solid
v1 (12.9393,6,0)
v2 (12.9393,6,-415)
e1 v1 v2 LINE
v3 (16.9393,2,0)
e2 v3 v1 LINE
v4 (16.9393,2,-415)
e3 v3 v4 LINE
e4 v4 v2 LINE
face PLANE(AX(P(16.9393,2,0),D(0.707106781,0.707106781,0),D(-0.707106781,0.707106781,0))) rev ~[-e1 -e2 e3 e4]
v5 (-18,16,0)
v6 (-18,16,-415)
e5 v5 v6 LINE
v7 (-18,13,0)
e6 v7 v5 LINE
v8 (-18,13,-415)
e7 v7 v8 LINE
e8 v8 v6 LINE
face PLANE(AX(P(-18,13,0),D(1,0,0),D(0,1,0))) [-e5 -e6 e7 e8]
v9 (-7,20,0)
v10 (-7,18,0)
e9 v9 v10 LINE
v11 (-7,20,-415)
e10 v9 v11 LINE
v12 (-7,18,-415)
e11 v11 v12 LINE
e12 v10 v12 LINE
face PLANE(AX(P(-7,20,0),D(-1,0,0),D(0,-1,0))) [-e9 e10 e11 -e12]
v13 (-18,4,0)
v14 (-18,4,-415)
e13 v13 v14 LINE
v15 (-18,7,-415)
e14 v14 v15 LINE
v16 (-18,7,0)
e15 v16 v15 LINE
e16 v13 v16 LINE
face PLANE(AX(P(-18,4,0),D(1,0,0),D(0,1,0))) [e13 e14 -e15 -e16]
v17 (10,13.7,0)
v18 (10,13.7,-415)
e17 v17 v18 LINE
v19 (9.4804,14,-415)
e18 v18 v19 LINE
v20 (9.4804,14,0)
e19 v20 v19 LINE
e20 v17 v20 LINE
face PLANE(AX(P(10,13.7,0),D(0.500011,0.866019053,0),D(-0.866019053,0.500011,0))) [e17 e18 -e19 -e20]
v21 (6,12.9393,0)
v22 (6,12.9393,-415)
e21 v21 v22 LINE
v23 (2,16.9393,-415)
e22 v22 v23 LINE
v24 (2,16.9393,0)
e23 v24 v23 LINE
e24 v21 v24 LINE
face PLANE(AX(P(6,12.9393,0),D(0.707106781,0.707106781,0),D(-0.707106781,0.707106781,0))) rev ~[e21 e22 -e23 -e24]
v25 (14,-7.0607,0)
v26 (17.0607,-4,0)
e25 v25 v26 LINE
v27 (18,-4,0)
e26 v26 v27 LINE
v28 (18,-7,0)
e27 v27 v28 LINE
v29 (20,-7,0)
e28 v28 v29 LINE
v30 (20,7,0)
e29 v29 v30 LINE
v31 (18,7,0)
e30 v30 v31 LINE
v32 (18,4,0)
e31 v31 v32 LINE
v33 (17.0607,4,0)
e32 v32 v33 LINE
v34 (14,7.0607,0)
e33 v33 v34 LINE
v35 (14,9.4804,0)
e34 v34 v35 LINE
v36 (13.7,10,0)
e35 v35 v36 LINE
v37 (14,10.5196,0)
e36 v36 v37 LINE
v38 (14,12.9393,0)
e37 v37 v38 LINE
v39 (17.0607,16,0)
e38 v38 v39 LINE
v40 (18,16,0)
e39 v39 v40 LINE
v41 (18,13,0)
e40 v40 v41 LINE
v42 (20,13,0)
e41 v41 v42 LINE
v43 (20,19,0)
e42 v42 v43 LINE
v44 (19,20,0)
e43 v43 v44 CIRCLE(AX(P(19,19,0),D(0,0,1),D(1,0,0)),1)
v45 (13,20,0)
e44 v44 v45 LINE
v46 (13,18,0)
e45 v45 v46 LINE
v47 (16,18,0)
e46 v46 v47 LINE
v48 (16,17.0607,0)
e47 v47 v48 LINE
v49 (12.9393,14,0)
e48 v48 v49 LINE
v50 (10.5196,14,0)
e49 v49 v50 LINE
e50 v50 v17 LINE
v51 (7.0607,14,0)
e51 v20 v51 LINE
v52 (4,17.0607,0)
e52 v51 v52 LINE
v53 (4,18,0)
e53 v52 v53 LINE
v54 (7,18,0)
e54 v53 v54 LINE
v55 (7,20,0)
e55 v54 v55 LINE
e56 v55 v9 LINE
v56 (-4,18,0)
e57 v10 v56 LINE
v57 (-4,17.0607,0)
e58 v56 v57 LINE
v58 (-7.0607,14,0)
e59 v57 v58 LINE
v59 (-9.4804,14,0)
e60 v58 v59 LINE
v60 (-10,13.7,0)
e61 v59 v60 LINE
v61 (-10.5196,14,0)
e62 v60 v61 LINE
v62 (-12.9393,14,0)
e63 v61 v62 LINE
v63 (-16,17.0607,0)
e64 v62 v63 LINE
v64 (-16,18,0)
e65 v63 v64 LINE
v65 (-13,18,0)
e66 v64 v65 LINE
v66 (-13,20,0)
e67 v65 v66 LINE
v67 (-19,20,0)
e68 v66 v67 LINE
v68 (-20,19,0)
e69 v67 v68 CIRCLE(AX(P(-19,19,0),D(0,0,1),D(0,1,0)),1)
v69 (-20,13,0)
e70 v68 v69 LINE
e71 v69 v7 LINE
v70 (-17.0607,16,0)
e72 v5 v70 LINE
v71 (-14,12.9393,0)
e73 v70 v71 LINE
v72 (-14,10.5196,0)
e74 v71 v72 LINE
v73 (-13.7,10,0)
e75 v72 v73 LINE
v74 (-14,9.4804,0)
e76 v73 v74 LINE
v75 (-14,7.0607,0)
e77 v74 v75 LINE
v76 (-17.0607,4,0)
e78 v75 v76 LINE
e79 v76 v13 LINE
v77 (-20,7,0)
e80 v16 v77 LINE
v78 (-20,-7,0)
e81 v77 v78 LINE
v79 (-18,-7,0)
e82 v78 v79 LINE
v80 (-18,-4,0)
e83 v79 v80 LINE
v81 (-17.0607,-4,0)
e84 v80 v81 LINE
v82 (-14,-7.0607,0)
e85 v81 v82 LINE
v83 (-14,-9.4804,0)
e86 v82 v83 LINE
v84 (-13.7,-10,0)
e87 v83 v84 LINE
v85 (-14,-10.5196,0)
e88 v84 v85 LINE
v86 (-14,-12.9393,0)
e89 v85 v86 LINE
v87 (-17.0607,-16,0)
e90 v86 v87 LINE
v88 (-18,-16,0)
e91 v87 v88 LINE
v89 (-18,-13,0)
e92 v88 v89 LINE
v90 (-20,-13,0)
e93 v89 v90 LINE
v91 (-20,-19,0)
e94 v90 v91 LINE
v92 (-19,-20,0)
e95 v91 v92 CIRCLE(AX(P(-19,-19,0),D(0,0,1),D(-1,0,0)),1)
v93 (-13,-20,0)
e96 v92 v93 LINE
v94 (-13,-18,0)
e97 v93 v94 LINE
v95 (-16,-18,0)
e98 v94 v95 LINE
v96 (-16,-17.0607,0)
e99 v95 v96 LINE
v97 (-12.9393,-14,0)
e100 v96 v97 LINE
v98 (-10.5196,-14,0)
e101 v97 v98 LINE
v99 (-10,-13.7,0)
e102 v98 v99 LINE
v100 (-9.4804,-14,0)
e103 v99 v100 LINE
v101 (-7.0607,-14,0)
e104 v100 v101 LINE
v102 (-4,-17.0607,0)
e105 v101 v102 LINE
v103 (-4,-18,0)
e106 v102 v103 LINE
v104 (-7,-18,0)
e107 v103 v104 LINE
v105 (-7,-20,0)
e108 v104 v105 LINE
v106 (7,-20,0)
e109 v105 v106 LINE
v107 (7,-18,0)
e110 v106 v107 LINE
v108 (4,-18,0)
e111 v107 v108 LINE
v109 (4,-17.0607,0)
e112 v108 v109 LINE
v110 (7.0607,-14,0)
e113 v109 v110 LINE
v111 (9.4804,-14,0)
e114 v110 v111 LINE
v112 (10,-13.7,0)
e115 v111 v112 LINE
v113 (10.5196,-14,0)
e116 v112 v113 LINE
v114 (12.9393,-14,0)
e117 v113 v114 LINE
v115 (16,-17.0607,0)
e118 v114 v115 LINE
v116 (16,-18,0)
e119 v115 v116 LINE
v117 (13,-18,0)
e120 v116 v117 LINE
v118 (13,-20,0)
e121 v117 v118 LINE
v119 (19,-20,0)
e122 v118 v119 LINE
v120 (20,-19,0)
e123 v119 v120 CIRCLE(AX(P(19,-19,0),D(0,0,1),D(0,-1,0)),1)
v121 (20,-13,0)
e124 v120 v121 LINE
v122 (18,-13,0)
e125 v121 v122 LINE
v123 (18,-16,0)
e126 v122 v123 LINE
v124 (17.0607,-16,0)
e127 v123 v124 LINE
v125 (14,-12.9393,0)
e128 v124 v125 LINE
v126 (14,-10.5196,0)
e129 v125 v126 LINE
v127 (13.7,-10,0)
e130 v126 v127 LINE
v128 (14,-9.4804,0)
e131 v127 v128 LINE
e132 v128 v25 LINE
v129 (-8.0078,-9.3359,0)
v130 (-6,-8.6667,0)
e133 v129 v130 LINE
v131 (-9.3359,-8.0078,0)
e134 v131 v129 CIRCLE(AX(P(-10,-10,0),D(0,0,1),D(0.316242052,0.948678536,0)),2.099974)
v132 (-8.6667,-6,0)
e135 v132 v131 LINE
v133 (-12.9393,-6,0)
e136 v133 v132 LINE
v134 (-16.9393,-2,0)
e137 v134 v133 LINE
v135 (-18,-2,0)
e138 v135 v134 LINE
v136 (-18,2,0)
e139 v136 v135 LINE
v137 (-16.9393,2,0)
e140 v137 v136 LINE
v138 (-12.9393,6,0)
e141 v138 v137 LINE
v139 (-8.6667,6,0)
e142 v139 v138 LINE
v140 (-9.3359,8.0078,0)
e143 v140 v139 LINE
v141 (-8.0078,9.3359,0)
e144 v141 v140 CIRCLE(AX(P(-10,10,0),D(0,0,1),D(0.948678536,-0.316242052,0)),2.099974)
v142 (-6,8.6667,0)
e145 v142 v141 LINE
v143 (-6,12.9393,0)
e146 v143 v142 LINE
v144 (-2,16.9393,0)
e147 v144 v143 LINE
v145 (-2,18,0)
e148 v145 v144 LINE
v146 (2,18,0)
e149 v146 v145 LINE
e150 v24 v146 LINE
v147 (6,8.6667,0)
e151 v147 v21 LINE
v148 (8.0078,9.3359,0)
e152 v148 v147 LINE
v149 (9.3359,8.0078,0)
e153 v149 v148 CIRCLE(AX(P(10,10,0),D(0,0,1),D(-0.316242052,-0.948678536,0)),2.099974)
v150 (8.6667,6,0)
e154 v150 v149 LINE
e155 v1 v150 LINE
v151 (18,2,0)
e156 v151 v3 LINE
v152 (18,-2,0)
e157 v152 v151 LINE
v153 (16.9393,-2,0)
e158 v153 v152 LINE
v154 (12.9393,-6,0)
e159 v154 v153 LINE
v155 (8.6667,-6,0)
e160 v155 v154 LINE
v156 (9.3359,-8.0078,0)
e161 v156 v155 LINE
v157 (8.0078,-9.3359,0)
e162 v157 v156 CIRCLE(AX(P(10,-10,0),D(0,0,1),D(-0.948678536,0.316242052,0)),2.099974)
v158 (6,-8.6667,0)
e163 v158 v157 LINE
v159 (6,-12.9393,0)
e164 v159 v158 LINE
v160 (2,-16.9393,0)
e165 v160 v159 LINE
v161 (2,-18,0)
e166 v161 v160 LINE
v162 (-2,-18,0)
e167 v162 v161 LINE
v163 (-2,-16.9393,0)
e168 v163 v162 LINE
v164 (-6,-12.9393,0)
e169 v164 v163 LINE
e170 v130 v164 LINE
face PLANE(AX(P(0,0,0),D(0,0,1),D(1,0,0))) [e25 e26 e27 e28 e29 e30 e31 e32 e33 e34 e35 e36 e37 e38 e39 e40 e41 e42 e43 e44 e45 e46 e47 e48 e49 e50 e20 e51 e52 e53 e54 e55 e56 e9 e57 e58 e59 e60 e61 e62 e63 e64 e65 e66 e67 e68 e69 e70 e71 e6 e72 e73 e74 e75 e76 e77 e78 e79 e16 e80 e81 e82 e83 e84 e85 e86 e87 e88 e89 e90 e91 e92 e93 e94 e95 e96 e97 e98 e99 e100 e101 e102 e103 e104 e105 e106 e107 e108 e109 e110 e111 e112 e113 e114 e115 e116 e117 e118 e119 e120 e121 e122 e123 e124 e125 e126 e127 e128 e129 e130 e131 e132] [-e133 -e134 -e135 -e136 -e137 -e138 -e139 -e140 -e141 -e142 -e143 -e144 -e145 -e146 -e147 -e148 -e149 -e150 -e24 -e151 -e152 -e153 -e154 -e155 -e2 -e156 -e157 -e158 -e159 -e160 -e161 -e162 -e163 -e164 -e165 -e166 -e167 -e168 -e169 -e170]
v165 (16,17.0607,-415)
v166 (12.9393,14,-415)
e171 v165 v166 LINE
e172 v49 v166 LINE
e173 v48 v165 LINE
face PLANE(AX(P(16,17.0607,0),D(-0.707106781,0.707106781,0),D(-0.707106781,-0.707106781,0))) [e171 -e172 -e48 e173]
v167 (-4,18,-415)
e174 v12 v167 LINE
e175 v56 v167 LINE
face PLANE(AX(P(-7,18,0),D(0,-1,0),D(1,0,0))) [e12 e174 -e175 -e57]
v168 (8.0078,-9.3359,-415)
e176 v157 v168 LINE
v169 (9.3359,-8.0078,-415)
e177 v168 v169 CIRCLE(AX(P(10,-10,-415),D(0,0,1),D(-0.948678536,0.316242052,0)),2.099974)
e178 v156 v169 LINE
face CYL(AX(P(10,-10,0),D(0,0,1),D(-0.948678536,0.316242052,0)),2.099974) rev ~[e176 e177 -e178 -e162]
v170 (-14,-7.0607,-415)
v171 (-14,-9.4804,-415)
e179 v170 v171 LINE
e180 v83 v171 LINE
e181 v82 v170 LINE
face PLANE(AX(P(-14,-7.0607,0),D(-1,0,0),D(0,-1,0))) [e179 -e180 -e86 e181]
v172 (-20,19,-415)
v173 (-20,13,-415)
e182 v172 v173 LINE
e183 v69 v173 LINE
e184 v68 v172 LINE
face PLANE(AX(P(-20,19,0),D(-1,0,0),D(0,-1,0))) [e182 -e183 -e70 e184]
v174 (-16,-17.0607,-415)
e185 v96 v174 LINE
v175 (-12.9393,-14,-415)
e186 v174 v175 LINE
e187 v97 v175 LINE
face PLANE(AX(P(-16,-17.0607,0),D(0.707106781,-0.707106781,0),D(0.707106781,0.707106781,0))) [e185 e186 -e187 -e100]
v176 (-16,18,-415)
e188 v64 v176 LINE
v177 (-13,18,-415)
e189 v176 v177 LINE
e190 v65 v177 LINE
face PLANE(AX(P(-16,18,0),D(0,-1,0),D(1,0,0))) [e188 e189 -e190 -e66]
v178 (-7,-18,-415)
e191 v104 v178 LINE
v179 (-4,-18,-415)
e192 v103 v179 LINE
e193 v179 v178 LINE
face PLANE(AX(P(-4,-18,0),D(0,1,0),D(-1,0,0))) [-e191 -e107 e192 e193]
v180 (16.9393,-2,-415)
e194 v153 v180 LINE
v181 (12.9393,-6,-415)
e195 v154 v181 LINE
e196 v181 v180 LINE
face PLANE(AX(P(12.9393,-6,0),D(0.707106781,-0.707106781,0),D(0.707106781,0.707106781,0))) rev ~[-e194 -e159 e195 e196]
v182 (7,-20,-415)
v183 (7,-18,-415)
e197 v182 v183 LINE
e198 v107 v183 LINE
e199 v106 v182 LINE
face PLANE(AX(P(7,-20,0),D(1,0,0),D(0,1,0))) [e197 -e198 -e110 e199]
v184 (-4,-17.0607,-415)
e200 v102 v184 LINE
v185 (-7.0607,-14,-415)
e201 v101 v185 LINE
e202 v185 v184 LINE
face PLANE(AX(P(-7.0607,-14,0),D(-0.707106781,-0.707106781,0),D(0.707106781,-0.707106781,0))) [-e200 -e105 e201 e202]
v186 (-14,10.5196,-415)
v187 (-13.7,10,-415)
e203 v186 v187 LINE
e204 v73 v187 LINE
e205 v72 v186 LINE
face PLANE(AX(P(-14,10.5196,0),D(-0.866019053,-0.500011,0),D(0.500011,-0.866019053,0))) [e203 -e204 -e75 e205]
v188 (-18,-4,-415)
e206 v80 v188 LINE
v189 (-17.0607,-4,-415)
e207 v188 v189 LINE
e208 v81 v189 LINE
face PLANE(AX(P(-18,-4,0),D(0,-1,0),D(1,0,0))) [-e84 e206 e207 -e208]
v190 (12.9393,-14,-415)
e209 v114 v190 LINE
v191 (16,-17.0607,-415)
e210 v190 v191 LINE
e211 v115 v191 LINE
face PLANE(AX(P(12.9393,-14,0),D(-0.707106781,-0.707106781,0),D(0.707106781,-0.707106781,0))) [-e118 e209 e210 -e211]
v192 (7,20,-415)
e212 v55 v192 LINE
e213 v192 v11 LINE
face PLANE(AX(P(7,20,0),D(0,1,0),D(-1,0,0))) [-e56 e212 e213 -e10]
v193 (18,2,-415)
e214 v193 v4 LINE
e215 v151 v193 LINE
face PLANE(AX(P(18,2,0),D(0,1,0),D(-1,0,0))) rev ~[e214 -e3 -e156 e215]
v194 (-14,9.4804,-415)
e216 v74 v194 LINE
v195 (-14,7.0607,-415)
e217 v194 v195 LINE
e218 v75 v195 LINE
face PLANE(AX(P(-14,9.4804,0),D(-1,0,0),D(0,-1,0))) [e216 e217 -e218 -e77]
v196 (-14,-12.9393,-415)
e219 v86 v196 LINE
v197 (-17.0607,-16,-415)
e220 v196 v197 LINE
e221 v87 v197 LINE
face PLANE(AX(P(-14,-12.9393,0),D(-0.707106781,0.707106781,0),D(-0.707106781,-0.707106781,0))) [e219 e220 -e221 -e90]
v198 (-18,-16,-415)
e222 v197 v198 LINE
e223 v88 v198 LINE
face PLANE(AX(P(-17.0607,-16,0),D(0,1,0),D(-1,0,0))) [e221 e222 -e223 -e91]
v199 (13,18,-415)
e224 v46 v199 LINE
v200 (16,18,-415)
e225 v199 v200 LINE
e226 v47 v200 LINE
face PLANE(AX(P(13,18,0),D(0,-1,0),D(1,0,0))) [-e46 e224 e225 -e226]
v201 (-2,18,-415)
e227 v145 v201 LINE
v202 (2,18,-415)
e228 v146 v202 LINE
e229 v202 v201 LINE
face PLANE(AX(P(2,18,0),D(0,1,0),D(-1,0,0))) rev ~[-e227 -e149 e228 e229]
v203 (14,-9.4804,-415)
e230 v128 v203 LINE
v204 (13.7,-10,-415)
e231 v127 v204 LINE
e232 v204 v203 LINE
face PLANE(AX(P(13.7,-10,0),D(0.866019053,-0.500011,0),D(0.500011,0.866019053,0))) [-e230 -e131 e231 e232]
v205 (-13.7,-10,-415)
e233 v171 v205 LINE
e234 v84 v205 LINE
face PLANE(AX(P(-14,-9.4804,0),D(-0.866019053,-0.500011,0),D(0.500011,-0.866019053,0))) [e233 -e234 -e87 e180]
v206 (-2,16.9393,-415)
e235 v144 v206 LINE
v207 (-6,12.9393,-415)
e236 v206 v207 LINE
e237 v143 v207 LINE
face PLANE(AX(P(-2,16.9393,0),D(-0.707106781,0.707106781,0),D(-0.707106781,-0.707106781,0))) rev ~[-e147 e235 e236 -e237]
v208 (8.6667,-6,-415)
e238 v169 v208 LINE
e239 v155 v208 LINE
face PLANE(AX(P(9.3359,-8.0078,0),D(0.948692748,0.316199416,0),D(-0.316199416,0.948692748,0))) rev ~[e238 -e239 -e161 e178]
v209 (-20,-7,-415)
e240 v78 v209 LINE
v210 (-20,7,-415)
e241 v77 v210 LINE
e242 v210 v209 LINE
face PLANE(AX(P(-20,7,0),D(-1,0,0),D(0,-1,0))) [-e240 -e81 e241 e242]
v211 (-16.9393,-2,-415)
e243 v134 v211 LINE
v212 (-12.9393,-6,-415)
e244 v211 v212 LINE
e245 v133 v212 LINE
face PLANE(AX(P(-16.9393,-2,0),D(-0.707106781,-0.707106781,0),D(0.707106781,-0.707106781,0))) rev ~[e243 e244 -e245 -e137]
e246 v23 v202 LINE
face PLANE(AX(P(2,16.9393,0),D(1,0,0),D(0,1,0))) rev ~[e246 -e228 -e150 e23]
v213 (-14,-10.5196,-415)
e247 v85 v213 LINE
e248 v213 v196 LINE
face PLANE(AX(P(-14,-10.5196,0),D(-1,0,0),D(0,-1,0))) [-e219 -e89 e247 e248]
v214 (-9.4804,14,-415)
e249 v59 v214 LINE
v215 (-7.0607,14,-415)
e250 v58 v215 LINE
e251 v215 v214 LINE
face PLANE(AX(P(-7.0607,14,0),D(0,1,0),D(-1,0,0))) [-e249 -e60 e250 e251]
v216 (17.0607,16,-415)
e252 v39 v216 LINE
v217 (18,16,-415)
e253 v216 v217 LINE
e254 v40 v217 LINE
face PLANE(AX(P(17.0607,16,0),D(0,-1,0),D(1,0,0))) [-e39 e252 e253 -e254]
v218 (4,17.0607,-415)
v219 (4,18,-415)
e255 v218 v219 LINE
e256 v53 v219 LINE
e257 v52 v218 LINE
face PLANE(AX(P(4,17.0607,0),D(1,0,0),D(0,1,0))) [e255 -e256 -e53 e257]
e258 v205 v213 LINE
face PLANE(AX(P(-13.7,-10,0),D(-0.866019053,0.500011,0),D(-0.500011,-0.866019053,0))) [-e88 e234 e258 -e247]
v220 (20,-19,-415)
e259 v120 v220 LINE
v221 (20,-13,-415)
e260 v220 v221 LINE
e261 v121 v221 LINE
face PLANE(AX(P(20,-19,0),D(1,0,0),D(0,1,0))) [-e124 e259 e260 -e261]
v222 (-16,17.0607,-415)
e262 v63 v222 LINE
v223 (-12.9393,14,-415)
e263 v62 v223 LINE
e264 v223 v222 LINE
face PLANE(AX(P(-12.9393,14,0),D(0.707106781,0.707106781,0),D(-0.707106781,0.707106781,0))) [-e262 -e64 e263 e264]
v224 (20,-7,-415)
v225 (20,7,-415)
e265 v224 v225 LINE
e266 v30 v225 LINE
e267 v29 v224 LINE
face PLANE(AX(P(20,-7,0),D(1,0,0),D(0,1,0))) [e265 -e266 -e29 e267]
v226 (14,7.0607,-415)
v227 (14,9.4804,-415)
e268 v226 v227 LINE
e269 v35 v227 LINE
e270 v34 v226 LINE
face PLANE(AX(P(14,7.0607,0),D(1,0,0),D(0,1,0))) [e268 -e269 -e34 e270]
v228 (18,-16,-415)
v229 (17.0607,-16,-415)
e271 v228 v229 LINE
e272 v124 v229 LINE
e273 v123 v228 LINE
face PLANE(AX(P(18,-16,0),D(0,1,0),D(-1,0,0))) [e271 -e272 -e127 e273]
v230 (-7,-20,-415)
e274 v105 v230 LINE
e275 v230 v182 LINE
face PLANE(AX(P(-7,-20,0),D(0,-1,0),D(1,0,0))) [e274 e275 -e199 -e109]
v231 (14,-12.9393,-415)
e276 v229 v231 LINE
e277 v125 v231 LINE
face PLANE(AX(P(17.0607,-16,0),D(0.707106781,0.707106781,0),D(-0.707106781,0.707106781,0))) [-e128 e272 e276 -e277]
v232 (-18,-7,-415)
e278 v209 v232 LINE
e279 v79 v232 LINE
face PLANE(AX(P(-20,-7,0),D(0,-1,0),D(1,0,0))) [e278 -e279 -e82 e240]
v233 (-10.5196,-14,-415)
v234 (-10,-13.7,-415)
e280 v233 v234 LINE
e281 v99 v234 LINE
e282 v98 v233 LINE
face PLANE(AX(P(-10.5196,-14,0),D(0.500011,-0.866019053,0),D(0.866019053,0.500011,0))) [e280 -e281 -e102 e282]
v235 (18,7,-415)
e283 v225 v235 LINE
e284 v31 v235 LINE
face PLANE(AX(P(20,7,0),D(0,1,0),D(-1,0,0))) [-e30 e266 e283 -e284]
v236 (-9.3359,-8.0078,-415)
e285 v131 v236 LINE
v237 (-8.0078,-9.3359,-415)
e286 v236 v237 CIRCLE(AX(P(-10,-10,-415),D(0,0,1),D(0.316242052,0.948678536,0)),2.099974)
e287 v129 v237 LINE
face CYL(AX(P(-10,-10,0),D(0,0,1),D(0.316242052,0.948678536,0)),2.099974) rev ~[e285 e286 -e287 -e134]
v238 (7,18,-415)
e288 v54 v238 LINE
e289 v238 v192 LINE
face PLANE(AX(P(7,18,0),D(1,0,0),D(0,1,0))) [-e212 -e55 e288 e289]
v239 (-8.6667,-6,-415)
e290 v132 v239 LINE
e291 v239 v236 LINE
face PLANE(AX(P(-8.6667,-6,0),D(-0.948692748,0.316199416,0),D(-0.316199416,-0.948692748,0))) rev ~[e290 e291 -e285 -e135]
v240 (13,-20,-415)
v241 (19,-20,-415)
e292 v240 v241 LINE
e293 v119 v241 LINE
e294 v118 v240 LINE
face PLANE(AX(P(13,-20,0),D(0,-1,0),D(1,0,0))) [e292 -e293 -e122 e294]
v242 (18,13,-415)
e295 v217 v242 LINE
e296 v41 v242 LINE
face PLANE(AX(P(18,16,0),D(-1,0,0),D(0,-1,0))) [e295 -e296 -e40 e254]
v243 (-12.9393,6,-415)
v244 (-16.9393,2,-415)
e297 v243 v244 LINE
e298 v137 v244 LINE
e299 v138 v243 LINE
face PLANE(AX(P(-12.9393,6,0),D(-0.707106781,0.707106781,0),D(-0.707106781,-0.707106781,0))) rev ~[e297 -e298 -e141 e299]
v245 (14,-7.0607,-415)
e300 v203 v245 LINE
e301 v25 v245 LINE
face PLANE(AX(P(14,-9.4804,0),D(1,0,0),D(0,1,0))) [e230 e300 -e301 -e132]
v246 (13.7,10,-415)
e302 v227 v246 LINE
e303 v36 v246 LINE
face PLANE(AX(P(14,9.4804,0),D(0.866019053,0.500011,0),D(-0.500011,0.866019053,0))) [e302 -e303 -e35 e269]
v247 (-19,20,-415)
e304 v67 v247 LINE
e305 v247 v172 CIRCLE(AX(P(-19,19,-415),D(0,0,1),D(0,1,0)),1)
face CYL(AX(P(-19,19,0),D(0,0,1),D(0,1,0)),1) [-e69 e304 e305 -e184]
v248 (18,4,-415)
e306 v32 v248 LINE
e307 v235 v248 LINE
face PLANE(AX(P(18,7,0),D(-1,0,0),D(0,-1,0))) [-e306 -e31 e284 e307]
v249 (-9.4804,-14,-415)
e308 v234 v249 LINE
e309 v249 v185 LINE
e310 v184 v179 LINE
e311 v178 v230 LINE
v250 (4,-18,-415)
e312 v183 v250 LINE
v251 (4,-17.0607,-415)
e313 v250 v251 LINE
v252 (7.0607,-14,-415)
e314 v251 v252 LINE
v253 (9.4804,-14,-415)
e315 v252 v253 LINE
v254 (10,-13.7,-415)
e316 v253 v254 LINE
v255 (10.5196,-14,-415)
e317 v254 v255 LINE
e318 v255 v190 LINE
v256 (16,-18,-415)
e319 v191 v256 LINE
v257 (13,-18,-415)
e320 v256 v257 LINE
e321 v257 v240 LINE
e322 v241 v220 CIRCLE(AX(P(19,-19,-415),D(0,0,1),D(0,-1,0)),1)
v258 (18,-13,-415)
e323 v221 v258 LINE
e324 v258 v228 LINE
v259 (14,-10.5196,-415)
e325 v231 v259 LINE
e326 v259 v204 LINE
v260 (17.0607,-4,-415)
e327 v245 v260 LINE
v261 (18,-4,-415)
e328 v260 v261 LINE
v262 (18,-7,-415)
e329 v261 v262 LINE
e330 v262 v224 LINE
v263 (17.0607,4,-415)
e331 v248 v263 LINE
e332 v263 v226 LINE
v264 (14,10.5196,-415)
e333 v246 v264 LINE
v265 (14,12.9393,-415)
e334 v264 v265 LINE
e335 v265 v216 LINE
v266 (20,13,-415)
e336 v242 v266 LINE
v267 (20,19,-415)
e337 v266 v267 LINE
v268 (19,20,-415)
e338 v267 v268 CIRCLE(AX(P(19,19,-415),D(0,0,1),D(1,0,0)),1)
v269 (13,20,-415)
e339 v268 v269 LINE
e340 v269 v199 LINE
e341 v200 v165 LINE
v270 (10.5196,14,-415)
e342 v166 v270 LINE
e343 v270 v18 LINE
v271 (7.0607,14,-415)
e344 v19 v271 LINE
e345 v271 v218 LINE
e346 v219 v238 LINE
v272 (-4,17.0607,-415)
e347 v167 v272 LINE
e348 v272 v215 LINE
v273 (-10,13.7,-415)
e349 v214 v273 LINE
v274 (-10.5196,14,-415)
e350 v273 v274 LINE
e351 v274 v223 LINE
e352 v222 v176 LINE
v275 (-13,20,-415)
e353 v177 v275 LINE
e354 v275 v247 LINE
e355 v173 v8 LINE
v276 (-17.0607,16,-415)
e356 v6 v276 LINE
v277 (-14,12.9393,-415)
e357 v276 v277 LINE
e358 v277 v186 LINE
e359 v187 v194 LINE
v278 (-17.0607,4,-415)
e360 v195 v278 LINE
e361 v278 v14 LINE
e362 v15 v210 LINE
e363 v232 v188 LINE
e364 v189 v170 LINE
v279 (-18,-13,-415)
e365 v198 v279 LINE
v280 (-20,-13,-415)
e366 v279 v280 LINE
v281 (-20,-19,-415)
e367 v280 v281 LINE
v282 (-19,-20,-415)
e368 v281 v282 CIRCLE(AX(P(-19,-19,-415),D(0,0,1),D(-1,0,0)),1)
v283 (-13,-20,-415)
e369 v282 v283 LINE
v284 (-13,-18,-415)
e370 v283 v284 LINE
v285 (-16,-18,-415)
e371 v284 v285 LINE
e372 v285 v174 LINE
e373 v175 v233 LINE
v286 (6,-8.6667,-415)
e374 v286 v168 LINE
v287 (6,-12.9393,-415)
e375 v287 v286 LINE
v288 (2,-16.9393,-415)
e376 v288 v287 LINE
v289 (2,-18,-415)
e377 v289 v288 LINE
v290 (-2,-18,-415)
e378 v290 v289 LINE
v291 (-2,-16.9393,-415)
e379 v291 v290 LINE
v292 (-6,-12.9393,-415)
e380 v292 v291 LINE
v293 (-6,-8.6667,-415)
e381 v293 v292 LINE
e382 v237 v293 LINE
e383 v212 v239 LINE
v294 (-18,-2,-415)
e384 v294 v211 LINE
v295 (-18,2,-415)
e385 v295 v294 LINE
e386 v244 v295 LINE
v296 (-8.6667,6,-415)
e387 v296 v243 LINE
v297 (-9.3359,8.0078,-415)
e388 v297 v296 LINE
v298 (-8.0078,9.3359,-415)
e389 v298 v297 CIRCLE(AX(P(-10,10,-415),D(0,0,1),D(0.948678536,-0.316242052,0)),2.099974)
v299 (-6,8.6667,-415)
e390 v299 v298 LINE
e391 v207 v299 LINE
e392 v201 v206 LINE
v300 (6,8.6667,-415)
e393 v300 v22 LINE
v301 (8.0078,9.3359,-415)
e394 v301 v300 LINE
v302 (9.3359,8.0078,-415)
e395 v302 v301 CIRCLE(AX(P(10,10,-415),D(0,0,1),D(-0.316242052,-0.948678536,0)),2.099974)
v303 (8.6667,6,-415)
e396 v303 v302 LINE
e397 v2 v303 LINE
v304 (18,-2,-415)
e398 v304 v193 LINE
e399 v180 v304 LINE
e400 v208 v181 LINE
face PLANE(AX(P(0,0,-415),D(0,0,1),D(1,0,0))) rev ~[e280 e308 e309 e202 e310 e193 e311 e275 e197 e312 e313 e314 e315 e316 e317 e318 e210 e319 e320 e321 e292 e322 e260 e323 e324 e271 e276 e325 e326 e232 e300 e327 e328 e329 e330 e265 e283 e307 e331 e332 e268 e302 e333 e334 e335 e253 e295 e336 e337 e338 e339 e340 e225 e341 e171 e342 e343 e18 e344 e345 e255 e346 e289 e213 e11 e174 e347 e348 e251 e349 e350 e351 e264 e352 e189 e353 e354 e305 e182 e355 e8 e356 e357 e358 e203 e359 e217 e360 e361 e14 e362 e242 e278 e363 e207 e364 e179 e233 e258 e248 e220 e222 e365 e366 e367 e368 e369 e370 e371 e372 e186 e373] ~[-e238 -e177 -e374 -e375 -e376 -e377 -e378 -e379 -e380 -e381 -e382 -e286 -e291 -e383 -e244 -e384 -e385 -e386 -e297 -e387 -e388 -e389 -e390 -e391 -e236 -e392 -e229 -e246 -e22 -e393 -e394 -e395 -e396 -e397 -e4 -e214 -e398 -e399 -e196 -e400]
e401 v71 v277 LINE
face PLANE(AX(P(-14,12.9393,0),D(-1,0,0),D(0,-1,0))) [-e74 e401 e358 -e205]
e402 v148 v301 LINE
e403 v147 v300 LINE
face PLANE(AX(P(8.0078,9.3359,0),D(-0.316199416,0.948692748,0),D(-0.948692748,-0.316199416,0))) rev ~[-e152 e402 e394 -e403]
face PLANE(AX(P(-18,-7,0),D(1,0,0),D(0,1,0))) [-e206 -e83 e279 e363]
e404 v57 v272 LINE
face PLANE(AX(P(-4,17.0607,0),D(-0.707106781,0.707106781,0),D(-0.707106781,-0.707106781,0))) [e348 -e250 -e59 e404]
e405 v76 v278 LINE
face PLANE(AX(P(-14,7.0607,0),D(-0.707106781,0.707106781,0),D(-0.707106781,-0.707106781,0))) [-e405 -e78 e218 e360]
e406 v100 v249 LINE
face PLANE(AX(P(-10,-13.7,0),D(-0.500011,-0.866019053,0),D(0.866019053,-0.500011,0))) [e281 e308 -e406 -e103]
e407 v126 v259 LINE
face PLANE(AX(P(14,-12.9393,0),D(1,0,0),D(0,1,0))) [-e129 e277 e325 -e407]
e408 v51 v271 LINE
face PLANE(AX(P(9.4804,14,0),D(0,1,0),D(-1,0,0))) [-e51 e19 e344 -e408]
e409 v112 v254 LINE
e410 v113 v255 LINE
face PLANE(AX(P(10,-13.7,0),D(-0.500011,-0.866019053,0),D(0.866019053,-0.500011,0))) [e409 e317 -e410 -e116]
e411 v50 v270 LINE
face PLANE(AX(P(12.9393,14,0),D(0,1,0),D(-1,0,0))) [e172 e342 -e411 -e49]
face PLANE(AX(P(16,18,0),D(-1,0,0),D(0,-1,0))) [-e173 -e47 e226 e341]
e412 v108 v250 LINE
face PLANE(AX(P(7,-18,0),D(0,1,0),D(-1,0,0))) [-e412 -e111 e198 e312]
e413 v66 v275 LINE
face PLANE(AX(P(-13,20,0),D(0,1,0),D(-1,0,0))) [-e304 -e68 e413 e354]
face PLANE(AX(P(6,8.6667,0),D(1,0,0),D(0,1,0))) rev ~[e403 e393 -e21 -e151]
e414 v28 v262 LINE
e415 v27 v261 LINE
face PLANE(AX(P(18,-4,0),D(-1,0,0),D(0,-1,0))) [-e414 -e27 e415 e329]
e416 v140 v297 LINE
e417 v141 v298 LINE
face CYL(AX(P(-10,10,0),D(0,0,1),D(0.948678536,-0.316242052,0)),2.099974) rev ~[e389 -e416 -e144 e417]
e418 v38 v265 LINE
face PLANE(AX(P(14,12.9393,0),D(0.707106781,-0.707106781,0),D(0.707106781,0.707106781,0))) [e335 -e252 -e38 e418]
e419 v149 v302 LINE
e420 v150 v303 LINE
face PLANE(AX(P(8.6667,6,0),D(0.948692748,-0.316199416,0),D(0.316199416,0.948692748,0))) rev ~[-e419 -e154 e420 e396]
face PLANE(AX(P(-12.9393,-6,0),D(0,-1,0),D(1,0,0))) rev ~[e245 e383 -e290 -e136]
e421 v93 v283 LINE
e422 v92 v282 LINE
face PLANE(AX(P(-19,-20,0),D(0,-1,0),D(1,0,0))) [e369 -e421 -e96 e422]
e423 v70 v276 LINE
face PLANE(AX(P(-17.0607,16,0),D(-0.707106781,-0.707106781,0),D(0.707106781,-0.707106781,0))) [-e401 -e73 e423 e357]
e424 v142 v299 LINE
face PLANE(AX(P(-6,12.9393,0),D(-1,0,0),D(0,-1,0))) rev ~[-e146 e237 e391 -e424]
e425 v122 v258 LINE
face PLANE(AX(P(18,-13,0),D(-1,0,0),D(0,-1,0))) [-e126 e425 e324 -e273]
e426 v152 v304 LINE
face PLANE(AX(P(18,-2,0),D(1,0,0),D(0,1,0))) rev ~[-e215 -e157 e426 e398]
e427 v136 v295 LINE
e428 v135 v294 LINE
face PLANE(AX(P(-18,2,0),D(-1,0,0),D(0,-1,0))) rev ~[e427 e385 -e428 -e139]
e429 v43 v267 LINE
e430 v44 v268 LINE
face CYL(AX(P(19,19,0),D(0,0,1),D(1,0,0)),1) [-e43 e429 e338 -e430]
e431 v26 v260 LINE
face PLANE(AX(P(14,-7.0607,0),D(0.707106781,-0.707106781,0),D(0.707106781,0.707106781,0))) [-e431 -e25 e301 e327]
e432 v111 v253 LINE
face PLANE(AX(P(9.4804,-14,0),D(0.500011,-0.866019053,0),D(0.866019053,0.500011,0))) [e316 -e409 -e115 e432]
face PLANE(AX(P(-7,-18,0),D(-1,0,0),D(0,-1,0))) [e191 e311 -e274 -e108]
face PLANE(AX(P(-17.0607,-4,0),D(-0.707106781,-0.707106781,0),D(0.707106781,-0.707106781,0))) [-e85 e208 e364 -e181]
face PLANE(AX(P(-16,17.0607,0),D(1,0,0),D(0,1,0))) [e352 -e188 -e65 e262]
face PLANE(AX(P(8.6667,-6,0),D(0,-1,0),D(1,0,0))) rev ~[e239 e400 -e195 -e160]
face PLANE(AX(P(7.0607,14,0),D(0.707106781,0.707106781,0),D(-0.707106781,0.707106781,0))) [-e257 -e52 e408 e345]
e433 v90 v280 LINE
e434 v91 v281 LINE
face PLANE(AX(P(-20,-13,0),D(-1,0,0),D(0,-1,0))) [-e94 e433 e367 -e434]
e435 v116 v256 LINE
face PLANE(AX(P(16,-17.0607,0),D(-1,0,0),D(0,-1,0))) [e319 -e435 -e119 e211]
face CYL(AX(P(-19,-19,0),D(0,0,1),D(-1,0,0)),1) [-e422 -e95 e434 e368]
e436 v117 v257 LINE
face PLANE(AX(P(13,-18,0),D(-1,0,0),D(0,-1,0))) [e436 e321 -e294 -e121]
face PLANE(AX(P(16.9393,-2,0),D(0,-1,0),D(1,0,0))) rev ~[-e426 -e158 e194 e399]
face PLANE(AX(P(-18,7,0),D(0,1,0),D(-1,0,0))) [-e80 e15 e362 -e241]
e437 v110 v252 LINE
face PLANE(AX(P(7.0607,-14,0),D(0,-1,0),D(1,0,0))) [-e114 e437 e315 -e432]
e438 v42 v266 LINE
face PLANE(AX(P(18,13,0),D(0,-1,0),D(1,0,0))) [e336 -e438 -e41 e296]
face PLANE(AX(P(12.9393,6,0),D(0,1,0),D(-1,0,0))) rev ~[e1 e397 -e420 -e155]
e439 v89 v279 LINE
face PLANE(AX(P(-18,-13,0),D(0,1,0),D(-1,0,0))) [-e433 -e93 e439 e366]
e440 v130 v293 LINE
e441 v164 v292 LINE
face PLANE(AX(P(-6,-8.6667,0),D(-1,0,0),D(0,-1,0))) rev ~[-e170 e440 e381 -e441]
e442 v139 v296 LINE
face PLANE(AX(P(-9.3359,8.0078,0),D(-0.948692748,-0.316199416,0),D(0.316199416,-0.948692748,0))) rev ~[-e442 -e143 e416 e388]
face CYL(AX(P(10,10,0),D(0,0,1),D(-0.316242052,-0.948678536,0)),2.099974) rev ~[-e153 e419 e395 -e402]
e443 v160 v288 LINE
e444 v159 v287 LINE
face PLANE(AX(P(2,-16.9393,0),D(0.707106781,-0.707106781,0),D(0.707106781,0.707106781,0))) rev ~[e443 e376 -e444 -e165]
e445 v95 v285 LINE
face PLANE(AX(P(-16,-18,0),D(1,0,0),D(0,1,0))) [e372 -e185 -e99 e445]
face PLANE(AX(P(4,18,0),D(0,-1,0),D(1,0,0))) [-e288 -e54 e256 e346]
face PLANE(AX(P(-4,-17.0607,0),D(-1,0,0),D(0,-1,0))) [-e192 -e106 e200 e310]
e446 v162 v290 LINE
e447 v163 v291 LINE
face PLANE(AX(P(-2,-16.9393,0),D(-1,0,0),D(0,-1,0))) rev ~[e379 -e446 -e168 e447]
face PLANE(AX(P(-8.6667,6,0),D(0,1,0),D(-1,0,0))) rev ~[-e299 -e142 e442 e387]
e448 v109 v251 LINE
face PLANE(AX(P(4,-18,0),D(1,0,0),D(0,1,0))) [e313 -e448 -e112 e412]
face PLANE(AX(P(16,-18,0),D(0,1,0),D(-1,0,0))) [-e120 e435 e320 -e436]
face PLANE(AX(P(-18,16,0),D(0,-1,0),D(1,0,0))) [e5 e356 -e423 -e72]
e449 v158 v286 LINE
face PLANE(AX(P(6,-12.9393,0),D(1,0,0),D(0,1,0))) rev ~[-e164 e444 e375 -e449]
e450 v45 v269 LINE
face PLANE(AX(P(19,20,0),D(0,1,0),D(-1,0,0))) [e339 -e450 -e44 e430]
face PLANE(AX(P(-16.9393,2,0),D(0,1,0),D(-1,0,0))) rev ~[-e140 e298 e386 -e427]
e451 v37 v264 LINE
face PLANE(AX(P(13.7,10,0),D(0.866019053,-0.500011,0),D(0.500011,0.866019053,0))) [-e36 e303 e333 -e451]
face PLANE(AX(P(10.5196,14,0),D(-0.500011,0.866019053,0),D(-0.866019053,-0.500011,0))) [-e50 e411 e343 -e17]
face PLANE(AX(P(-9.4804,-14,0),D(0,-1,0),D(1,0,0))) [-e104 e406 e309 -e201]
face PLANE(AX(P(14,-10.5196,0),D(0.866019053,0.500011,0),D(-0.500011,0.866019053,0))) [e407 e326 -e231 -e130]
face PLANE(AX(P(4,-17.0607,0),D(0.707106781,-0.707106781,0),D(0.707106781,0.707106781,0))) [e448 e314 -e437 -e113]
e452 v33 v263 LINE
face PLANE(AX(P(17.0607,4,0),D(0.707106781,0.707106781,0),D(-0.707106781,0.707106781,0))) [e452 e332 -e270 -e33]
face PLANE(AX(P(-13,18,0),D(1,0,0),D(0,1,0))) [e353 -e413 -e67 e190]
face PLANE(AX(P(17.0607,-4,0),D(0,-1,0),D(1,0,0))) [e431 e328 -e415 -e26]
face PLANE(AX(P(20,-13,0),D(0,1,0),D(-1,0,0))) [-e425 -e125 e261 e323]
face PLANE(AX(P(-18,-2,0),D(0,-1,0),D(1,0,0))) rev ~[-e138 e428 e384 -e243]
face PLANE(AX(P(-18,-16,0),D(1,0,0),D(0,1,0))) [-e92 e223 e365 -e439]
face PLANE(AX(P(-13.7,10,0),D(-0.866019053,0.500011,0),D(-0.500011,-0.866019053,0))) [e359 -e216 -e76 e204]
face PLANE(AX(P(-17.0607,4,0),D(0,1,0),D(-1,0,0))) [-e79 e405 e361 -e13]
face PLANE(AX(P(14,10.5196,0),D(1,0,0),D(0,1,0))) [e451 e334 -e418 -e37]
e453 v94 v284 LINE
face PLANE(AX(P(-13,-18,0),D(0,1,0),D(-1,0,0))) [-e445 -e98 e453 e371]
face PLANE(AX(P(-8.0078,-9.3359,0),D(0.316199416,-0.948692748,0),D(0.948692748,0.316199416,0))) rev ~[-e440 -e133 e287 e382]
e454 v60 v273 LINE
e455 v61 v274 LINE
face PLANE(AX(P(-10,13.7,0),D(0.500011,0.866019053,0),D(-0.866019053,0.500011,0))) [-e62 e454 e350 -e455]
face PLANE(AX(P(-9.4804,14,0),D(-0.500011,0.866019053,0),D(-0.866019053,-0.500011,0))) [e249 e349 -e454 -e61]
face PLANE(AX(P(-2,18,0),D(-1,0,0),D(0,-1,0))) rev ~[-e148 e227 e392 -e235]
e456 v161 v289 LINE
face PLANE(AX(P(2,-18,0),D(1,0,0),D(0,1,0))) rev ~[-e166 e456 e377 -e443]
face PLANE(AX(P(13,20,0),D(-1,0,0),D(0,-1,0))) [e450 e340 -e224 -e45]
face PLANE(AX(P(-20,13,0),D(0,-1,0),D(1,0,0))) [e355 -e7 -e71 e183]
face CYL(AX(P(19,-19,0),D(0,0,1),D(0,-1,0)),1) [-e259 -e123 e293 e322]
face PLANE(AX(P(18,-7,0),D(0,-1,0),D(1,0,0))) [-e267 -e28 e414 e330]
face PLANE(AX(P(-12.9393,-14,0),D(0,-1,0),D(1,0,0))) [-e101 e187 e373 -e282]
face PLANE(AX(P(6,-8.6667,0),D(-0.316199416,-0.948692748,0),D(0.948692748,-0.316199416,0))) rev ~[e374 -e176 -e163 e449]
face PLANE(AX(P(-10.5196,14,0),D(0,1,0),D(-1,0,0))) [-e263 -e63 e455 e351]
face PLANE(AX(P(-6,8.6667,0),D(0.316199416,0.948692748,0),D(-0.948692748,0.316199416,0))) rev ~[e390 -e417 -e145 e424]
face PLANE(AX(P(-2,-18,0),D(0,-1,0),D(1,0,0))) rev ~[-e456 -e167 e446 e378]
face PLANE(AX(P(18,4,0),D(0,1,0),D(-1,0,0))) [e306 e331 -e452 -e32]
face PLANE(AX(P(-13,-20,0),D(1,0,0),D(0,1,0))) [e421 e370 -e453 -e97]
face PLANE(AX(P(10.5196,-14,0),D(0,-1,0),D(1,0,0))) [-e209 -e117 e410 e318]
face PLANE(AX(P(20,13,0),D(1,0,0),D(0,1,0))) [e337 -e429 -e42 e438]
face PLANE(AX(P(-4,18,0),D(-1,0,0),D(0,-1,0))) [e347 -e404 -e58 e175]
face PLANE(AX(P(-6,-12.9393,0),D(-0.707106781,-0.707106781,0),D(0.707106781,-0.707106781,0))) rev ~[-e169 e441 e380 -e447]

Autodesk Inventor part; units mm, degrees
sketch "Sketch_1" plane through (0, 0, 0) normal (0, 0, 1) x (1, 0, 0)
  line L0 (-20, -7) -> (-18, -7)
  line L1 (-18, -7) -> (-18, -4)
  line L2 (-18, -4) -> (-17.0607, -4)
  line L3 (-17.0607, -4) -> (-14, -7.0607)
  line L4 (-14, -7.0607) -> (-14, -9.4804)
  line L5 (-14, -9.4804) -> (-13.7, -10)
  line L6 (-13.7, -10) -> (-14, -10.5196)
  line L7 (-14, -10.5196) -> (-14, -12.9393)
  line L8 (-14, -12.9393) -> (-17.0607, -16)
  line L9 (-17.0607, -16) -> (-18, -16)
  line L10 (-18, -16) -> (-18, -13)
  line L11 (-18, -13) -> (-20, -13)
  line L12 (-20, -13) -> (-20, -19)
  arc A0 (-20, -19) -> (-19, -20) centre (-19, -19) ccw
  line L13 (-19, -20) -> (-13, -20)
  line L14 (-13, -20) -> (-13, -18)
  line L15 (-13, -18) -> (-16, -18)
  line L16 (-16, -18) -> (-16, -17.0607)
  line L17 (-16, -17.0607) -> (-12.9393, -14)
  line L18 (-12.9393, -14) -> (-10.5196, -14)
  line L19 (-10.5196, -14) -> (-10, -13.7)
  line L20 (-10, -13.7) -> (-9.4804, -14)
  line L21 (-9.4804, -14) -> (-7.0607, -14)
  line L22 (-7.0607, -14) -> (-4, -17.0607)
  line L23 (-4, -17.0607) -> (-4, -18)
  line L24 (-4, -18) -> (-7, -18)
  line L25 (-7, -18) -> (-7, -20)
  line L26 (-7, -20) -> (7, -20)
  line L27 (7, -20) -> (7, -18)
  line L28 (7, -18) -> (4, -18)
  line L29 (4, -18) -> (4, -17.0607)
  line L30 (4, -17.0607) -> (7.0607, -14)
  line L31 (7.0607, -14) -> (9.4804, -14)
  line L32 (9.4804, -14) -> (10, -13.7)
  line L33 (10, -13.7) -> (10.5196, -14)
  line L34 (10.5196, -14) -> (12.9393, -14)
  line L35 (12.9393, -14) -> (16, -17.0607)
  line L36 (16, -17.0607) -> (16, -18)
  line L37 (16, -18) -> (13, -18)
  line L38 (13, -18) -> (13, -20)
  line L39 (13, -20) -> (19, -20)
  arc A1 (19, -20) -> (20, -19) centre (19, -19) ccw
  line L40 (20, -19) -> (20, -13)
  line L41 (20, -13) -> (18, -13)
  line L42 (18, -13) -> (18, -16)
  line L43 (18, -16) -> (17.0607, -16)
  line L44 (17.0607, -16) -> (14, -12.9393)
  line L45 (14, -12.9393) -> (14, -10.5196)
  line L46 (14, -10.5196) -> (13.7, -10)
  line L47 (13.7, -10) -> (14, -9.4804)
  line L48 (14, -9.4804) -> (14, -7.0607)
  line L49 (14, -7.0607) -> (17.0607, -4)
  line L50 (17.0607, -4) -> (18, -4)
  line L51 (18, -4) -> (18, -7)
  line L52 (18, -7) -> (20, -7)
  line L53 (20, -7) -> (20, 7)
  line L54 (20, 7) -> (18, 7)
  line L55 (18, 7) -> (18, 4)
  line L56 (18, 4) -> (17.0607, 4)
  line L57 (17.0607, 4) -> (14, 7.0607)
  line L58 (14, 7.0607) -> (14, 9.4804)
  line L59 (14, 9.4804) -> (13.7, 10)
  line L60 (13.7, 10) -> (14, 10.5196)
  line L61 (14, 10.5196) -> (14, 12.9393)
  line L62 (14, 12.9393) -> (17.0607, 16)
  line L63 (17.0607, 16) -> (18, 16)
  line L64 (18, 16) -> (18, 13)
  line L65 (18, 13) -> (20, 13)
  line L66 (20, 13) -> (20, 19)
  arc A2 (20, 19) -> (19, 20) centre (19, 19) ccw
  line L67 (19, 20) -> (13, 20)
  line L68 (13, 20) -> (13, 18)
  line L69 (13, 18) -> (16, 18)
  line L70 (16, 18) -> (16, 17.0607)
  line L71 (16, 17.0607) -> (12.9393, 14)
  line L72 (12.9393, 14) -> (10.5196, 14)
  line L73 (10.5196, 14) -> (10, 13.7)
  line L74 (10, 13.7) -> (9.4804, 14)
  line L75 (9.4804, 14) -> (7.0607, 14)
  line L76 (7.0607, 14) -> (4, 17.0607)
  line L77 (4, 17.0607) -> (4, 18)
  line L78 (4, 18) -> (7, 18)
  line L79 (7, 18) -> (7, 20)
  line L80 (7, 20) -> (-7, 20)
  line L81 (-7, 20) -> (-7, 18)
  line L82 (-7, 18) -> (-4, 18)
  line L83 (-4, 18) -> (-4, 17.0607)
  line L84 (-4, 17.0607) -> (-7.0607, 14)
  line L85 (-7.0607, 14) -> (-9.4804, 14)
  line L86 (-9.4804, 14) -> (-10, 13.7)
  line L87 (-10, 13.7) -> (-10.5196, 14)
  line L88 (-10.5196, 14) -> (-12.9393, 14)
  line L89 (-12.9393, 14) -> (-16, 17.0607)
  line L90 (-16, 17.0607) -> (-16, 18)
  line L91 (-16, 18) -> (-13, 18)
  line L92 (-13, 18) -> (-13, 20)
  line L93 (-13, 20) -> (-19, 20)
  arc A3 (-19, 20) -> (-20, 19) centre (-19, 19) ccw
  line L94 (-20, 19) -> (-20, 13)
  line L95 (-20, 13) -> (-18, 13)
  line L96 (-18, 13) -> (-18, 16)
  line L97 (-18, 16) -> (-17.0607, 16)
  line L98 (-17.0607, 16) -> (-14, 12.9393)
  line L99 (-14, 12.9393) -> (-14, 10.5196)
  line L100 (-14, 10.5196) -> (-13.7, 10)
  line L101 (-13.7, 10) -> (-14, 9.4804)
  line L102 (-14, 9.4804) -> (-14, 7.0607)
  line L103 (-14, 7.0607) -> (-17.0607, 4)
  line L104 (-17.0607, 4) -> (-18, 4)
  line L105 (-18, 4) -> (-18, 7)
  line L106 (-18, 7) -> (-20, 7)
  line L107 (-20, 7) -> (-20, -7)
extrude "Extrusion1" add sketch "Sketch_1" against normal blind 415
sketch "Sketch_130" plane through (0, 0, 0) normal (0, 0, 1) x (1, 0, 0)
  line L0 (-18, 2) -> (-18, -2)
  line L1 (-18, -2) -> (-16.9393, -2)
  line L2 (-16.9393, -2) -> (-12.9393, -6)
  line L3 (-12.9393, -6) -> (-8.6667, -6)
  line L4 (-8.6667, -6) -> (-9.3359, -8.0078)
  arc A0 (-9.3359, -8.0078) -> (-8.0078, -9.3359) centre (-10, -10) ccw
  line L5 (-8.0078, -9.3359) -> (-6, -8.6667)
  line L6 (-6, -8.6667) -> (-6, -12.9393)
  line L7 (-6, -12.9393) -> (-2, -16.9393)
  line L8 (-2, -16.9393) -> (-2, -18)
  line L9 (-2, -18) -> (2, -18)
  line L10 (2, -18) -> (2, -16.9393)
  line L11 (2, -16.9393) -> (6, -12.9393)
  line L12 (6, -12.9393) -> (6, -8.6667)
  line L13 (6, -8.6667) -> (8.0078, -9.3359)
  arc A1 (8.0078, -9.3359) -> (9.3359, -8.0078) centre (10, -10) ccw
  line L14 (9.3359, -8.0078) -> (8.6667, -6)
  line L15 (8.6667, -6) -> (12.9393, -6)
  line L16 (12.9393, -6) -> (16.9393, -2)
  line L17 (16.9393, -2) -> (18, -2)
  line L18 (18, -2) -> (18, 2)
  line L19 (18, 2) -> (16.9393, 2)
  line L20 (16.9393, 2) -> (12.9393, 6)
  line L21 (12.9393, 6) -> (8.6667, 6)
  line L22 (8.6667, 6) -> (9.3359, 8.0078)
  arc A2 (9.3359, 8.0078) -> (8.0078, 9.3359) centre (10, 10) ccw
  line L23 (8.0078, 9.3359) -> (6, 8.6667)
  line L24 (6, 8.6667) -> (6, 12.9393)
  line L25 (6, 12.9393) -> (2, 16.9393)
  line L26 (2, 16.9393) -> (2, 18)
  line L27 (2, 18) -> (-2, 18)
  line L28 (-2, 18) -> (-2, 16.9393)
  line L29 (-2, 16.9393) -> (-6, 12.9393)
  line L30 (-6, 12.9393) -> (-6, 8.6667)
  line L31 (-6, 8.6667) -> (-8.0078, 9.3359)
  arc A3 (-8.0078, 9.3359) -> (-9.3359, 8.0078) centre (-10, 10) ccw
  line L32 (-9.3359, 8.0078) -> (-8.6667, 6)
  line L33 (-8.6667, 6) -> (-12.9393, 6)
  line L34 (-12.9393, 6) -> (-16.9393, 2)
  line L35 (-16.9393, 2) -> (-18, 2)
extrude "Extrusion2" cut sketch "Sketch_130" against normal blind 415
ref_plane "C1_XY" through (0, 0, 0) normal (0, 0, 1) x (1, 0, 0)
ref_plane "C1_YZ" through (0, 0, 0) normal (1, 0, 0) x (0, 1, 0)
ref_plane "C1_ZX" through (0, 0, 0) normal (0, 1, 0) x (0, 0, 1)
ref_plane "to_frame_cap1_XY" through (0, 0, 0) normal (0, 0, 1) x (1, 0, 0)
ref_plane "to_frame_cap1_YZ" through (0, 0, 0) normal (1, 0, 0) x (0, 1, 0)
ref_plane "to_frame_cap1_ZX" through (0, 0, 0) normal (0, 1, 0) x (0, 0, 1)
ref_plane "to_frame_cap2_XY" through (0, 0, -415) normal (0, 0, -1) x (1, 0, 0)
ref_plane "to_frame_cap2_YZ" through (0, 0, -415) normal (1, 0, 0) x (0, -1, 0)
ref_plane "to_frame_cap2_ZX" through (0, 0, -415) normal (0, -1, 0) x (0, 0, -1)
thread "Thread1" size "M5x0.8" class "6H" standard "ANSI Metric M Profile" length 10
thread "Thread2" size "M5x0.8" class "6H" standard "ANSI Metric M Profile" length 10
thread "Thread3" size "M5x0.8" class "6H" standard "ANSI Metric M Profile" length 10
thread "Thread4" size "M5x0.8" class "6H" standard "ANSI Metric M Profile" length 10
thread "Thread5" size "M5x0.8" class "6H" standard "ANSI Metric M Profile" length 10
thread "Thread6" size "M5x0.8" class "6H" standard "ANSI Metric M Profile" length 10
thread "Thread7" size "M5x0.8" class "6H" standard "ANSI Metric M Profile" length 10
thread "Thread8" size "M5x0.8" class "6H" standard "ANSI Metric M Profile" length 10
properties part number "Right Base Beam" material "Aluminum 6061"
